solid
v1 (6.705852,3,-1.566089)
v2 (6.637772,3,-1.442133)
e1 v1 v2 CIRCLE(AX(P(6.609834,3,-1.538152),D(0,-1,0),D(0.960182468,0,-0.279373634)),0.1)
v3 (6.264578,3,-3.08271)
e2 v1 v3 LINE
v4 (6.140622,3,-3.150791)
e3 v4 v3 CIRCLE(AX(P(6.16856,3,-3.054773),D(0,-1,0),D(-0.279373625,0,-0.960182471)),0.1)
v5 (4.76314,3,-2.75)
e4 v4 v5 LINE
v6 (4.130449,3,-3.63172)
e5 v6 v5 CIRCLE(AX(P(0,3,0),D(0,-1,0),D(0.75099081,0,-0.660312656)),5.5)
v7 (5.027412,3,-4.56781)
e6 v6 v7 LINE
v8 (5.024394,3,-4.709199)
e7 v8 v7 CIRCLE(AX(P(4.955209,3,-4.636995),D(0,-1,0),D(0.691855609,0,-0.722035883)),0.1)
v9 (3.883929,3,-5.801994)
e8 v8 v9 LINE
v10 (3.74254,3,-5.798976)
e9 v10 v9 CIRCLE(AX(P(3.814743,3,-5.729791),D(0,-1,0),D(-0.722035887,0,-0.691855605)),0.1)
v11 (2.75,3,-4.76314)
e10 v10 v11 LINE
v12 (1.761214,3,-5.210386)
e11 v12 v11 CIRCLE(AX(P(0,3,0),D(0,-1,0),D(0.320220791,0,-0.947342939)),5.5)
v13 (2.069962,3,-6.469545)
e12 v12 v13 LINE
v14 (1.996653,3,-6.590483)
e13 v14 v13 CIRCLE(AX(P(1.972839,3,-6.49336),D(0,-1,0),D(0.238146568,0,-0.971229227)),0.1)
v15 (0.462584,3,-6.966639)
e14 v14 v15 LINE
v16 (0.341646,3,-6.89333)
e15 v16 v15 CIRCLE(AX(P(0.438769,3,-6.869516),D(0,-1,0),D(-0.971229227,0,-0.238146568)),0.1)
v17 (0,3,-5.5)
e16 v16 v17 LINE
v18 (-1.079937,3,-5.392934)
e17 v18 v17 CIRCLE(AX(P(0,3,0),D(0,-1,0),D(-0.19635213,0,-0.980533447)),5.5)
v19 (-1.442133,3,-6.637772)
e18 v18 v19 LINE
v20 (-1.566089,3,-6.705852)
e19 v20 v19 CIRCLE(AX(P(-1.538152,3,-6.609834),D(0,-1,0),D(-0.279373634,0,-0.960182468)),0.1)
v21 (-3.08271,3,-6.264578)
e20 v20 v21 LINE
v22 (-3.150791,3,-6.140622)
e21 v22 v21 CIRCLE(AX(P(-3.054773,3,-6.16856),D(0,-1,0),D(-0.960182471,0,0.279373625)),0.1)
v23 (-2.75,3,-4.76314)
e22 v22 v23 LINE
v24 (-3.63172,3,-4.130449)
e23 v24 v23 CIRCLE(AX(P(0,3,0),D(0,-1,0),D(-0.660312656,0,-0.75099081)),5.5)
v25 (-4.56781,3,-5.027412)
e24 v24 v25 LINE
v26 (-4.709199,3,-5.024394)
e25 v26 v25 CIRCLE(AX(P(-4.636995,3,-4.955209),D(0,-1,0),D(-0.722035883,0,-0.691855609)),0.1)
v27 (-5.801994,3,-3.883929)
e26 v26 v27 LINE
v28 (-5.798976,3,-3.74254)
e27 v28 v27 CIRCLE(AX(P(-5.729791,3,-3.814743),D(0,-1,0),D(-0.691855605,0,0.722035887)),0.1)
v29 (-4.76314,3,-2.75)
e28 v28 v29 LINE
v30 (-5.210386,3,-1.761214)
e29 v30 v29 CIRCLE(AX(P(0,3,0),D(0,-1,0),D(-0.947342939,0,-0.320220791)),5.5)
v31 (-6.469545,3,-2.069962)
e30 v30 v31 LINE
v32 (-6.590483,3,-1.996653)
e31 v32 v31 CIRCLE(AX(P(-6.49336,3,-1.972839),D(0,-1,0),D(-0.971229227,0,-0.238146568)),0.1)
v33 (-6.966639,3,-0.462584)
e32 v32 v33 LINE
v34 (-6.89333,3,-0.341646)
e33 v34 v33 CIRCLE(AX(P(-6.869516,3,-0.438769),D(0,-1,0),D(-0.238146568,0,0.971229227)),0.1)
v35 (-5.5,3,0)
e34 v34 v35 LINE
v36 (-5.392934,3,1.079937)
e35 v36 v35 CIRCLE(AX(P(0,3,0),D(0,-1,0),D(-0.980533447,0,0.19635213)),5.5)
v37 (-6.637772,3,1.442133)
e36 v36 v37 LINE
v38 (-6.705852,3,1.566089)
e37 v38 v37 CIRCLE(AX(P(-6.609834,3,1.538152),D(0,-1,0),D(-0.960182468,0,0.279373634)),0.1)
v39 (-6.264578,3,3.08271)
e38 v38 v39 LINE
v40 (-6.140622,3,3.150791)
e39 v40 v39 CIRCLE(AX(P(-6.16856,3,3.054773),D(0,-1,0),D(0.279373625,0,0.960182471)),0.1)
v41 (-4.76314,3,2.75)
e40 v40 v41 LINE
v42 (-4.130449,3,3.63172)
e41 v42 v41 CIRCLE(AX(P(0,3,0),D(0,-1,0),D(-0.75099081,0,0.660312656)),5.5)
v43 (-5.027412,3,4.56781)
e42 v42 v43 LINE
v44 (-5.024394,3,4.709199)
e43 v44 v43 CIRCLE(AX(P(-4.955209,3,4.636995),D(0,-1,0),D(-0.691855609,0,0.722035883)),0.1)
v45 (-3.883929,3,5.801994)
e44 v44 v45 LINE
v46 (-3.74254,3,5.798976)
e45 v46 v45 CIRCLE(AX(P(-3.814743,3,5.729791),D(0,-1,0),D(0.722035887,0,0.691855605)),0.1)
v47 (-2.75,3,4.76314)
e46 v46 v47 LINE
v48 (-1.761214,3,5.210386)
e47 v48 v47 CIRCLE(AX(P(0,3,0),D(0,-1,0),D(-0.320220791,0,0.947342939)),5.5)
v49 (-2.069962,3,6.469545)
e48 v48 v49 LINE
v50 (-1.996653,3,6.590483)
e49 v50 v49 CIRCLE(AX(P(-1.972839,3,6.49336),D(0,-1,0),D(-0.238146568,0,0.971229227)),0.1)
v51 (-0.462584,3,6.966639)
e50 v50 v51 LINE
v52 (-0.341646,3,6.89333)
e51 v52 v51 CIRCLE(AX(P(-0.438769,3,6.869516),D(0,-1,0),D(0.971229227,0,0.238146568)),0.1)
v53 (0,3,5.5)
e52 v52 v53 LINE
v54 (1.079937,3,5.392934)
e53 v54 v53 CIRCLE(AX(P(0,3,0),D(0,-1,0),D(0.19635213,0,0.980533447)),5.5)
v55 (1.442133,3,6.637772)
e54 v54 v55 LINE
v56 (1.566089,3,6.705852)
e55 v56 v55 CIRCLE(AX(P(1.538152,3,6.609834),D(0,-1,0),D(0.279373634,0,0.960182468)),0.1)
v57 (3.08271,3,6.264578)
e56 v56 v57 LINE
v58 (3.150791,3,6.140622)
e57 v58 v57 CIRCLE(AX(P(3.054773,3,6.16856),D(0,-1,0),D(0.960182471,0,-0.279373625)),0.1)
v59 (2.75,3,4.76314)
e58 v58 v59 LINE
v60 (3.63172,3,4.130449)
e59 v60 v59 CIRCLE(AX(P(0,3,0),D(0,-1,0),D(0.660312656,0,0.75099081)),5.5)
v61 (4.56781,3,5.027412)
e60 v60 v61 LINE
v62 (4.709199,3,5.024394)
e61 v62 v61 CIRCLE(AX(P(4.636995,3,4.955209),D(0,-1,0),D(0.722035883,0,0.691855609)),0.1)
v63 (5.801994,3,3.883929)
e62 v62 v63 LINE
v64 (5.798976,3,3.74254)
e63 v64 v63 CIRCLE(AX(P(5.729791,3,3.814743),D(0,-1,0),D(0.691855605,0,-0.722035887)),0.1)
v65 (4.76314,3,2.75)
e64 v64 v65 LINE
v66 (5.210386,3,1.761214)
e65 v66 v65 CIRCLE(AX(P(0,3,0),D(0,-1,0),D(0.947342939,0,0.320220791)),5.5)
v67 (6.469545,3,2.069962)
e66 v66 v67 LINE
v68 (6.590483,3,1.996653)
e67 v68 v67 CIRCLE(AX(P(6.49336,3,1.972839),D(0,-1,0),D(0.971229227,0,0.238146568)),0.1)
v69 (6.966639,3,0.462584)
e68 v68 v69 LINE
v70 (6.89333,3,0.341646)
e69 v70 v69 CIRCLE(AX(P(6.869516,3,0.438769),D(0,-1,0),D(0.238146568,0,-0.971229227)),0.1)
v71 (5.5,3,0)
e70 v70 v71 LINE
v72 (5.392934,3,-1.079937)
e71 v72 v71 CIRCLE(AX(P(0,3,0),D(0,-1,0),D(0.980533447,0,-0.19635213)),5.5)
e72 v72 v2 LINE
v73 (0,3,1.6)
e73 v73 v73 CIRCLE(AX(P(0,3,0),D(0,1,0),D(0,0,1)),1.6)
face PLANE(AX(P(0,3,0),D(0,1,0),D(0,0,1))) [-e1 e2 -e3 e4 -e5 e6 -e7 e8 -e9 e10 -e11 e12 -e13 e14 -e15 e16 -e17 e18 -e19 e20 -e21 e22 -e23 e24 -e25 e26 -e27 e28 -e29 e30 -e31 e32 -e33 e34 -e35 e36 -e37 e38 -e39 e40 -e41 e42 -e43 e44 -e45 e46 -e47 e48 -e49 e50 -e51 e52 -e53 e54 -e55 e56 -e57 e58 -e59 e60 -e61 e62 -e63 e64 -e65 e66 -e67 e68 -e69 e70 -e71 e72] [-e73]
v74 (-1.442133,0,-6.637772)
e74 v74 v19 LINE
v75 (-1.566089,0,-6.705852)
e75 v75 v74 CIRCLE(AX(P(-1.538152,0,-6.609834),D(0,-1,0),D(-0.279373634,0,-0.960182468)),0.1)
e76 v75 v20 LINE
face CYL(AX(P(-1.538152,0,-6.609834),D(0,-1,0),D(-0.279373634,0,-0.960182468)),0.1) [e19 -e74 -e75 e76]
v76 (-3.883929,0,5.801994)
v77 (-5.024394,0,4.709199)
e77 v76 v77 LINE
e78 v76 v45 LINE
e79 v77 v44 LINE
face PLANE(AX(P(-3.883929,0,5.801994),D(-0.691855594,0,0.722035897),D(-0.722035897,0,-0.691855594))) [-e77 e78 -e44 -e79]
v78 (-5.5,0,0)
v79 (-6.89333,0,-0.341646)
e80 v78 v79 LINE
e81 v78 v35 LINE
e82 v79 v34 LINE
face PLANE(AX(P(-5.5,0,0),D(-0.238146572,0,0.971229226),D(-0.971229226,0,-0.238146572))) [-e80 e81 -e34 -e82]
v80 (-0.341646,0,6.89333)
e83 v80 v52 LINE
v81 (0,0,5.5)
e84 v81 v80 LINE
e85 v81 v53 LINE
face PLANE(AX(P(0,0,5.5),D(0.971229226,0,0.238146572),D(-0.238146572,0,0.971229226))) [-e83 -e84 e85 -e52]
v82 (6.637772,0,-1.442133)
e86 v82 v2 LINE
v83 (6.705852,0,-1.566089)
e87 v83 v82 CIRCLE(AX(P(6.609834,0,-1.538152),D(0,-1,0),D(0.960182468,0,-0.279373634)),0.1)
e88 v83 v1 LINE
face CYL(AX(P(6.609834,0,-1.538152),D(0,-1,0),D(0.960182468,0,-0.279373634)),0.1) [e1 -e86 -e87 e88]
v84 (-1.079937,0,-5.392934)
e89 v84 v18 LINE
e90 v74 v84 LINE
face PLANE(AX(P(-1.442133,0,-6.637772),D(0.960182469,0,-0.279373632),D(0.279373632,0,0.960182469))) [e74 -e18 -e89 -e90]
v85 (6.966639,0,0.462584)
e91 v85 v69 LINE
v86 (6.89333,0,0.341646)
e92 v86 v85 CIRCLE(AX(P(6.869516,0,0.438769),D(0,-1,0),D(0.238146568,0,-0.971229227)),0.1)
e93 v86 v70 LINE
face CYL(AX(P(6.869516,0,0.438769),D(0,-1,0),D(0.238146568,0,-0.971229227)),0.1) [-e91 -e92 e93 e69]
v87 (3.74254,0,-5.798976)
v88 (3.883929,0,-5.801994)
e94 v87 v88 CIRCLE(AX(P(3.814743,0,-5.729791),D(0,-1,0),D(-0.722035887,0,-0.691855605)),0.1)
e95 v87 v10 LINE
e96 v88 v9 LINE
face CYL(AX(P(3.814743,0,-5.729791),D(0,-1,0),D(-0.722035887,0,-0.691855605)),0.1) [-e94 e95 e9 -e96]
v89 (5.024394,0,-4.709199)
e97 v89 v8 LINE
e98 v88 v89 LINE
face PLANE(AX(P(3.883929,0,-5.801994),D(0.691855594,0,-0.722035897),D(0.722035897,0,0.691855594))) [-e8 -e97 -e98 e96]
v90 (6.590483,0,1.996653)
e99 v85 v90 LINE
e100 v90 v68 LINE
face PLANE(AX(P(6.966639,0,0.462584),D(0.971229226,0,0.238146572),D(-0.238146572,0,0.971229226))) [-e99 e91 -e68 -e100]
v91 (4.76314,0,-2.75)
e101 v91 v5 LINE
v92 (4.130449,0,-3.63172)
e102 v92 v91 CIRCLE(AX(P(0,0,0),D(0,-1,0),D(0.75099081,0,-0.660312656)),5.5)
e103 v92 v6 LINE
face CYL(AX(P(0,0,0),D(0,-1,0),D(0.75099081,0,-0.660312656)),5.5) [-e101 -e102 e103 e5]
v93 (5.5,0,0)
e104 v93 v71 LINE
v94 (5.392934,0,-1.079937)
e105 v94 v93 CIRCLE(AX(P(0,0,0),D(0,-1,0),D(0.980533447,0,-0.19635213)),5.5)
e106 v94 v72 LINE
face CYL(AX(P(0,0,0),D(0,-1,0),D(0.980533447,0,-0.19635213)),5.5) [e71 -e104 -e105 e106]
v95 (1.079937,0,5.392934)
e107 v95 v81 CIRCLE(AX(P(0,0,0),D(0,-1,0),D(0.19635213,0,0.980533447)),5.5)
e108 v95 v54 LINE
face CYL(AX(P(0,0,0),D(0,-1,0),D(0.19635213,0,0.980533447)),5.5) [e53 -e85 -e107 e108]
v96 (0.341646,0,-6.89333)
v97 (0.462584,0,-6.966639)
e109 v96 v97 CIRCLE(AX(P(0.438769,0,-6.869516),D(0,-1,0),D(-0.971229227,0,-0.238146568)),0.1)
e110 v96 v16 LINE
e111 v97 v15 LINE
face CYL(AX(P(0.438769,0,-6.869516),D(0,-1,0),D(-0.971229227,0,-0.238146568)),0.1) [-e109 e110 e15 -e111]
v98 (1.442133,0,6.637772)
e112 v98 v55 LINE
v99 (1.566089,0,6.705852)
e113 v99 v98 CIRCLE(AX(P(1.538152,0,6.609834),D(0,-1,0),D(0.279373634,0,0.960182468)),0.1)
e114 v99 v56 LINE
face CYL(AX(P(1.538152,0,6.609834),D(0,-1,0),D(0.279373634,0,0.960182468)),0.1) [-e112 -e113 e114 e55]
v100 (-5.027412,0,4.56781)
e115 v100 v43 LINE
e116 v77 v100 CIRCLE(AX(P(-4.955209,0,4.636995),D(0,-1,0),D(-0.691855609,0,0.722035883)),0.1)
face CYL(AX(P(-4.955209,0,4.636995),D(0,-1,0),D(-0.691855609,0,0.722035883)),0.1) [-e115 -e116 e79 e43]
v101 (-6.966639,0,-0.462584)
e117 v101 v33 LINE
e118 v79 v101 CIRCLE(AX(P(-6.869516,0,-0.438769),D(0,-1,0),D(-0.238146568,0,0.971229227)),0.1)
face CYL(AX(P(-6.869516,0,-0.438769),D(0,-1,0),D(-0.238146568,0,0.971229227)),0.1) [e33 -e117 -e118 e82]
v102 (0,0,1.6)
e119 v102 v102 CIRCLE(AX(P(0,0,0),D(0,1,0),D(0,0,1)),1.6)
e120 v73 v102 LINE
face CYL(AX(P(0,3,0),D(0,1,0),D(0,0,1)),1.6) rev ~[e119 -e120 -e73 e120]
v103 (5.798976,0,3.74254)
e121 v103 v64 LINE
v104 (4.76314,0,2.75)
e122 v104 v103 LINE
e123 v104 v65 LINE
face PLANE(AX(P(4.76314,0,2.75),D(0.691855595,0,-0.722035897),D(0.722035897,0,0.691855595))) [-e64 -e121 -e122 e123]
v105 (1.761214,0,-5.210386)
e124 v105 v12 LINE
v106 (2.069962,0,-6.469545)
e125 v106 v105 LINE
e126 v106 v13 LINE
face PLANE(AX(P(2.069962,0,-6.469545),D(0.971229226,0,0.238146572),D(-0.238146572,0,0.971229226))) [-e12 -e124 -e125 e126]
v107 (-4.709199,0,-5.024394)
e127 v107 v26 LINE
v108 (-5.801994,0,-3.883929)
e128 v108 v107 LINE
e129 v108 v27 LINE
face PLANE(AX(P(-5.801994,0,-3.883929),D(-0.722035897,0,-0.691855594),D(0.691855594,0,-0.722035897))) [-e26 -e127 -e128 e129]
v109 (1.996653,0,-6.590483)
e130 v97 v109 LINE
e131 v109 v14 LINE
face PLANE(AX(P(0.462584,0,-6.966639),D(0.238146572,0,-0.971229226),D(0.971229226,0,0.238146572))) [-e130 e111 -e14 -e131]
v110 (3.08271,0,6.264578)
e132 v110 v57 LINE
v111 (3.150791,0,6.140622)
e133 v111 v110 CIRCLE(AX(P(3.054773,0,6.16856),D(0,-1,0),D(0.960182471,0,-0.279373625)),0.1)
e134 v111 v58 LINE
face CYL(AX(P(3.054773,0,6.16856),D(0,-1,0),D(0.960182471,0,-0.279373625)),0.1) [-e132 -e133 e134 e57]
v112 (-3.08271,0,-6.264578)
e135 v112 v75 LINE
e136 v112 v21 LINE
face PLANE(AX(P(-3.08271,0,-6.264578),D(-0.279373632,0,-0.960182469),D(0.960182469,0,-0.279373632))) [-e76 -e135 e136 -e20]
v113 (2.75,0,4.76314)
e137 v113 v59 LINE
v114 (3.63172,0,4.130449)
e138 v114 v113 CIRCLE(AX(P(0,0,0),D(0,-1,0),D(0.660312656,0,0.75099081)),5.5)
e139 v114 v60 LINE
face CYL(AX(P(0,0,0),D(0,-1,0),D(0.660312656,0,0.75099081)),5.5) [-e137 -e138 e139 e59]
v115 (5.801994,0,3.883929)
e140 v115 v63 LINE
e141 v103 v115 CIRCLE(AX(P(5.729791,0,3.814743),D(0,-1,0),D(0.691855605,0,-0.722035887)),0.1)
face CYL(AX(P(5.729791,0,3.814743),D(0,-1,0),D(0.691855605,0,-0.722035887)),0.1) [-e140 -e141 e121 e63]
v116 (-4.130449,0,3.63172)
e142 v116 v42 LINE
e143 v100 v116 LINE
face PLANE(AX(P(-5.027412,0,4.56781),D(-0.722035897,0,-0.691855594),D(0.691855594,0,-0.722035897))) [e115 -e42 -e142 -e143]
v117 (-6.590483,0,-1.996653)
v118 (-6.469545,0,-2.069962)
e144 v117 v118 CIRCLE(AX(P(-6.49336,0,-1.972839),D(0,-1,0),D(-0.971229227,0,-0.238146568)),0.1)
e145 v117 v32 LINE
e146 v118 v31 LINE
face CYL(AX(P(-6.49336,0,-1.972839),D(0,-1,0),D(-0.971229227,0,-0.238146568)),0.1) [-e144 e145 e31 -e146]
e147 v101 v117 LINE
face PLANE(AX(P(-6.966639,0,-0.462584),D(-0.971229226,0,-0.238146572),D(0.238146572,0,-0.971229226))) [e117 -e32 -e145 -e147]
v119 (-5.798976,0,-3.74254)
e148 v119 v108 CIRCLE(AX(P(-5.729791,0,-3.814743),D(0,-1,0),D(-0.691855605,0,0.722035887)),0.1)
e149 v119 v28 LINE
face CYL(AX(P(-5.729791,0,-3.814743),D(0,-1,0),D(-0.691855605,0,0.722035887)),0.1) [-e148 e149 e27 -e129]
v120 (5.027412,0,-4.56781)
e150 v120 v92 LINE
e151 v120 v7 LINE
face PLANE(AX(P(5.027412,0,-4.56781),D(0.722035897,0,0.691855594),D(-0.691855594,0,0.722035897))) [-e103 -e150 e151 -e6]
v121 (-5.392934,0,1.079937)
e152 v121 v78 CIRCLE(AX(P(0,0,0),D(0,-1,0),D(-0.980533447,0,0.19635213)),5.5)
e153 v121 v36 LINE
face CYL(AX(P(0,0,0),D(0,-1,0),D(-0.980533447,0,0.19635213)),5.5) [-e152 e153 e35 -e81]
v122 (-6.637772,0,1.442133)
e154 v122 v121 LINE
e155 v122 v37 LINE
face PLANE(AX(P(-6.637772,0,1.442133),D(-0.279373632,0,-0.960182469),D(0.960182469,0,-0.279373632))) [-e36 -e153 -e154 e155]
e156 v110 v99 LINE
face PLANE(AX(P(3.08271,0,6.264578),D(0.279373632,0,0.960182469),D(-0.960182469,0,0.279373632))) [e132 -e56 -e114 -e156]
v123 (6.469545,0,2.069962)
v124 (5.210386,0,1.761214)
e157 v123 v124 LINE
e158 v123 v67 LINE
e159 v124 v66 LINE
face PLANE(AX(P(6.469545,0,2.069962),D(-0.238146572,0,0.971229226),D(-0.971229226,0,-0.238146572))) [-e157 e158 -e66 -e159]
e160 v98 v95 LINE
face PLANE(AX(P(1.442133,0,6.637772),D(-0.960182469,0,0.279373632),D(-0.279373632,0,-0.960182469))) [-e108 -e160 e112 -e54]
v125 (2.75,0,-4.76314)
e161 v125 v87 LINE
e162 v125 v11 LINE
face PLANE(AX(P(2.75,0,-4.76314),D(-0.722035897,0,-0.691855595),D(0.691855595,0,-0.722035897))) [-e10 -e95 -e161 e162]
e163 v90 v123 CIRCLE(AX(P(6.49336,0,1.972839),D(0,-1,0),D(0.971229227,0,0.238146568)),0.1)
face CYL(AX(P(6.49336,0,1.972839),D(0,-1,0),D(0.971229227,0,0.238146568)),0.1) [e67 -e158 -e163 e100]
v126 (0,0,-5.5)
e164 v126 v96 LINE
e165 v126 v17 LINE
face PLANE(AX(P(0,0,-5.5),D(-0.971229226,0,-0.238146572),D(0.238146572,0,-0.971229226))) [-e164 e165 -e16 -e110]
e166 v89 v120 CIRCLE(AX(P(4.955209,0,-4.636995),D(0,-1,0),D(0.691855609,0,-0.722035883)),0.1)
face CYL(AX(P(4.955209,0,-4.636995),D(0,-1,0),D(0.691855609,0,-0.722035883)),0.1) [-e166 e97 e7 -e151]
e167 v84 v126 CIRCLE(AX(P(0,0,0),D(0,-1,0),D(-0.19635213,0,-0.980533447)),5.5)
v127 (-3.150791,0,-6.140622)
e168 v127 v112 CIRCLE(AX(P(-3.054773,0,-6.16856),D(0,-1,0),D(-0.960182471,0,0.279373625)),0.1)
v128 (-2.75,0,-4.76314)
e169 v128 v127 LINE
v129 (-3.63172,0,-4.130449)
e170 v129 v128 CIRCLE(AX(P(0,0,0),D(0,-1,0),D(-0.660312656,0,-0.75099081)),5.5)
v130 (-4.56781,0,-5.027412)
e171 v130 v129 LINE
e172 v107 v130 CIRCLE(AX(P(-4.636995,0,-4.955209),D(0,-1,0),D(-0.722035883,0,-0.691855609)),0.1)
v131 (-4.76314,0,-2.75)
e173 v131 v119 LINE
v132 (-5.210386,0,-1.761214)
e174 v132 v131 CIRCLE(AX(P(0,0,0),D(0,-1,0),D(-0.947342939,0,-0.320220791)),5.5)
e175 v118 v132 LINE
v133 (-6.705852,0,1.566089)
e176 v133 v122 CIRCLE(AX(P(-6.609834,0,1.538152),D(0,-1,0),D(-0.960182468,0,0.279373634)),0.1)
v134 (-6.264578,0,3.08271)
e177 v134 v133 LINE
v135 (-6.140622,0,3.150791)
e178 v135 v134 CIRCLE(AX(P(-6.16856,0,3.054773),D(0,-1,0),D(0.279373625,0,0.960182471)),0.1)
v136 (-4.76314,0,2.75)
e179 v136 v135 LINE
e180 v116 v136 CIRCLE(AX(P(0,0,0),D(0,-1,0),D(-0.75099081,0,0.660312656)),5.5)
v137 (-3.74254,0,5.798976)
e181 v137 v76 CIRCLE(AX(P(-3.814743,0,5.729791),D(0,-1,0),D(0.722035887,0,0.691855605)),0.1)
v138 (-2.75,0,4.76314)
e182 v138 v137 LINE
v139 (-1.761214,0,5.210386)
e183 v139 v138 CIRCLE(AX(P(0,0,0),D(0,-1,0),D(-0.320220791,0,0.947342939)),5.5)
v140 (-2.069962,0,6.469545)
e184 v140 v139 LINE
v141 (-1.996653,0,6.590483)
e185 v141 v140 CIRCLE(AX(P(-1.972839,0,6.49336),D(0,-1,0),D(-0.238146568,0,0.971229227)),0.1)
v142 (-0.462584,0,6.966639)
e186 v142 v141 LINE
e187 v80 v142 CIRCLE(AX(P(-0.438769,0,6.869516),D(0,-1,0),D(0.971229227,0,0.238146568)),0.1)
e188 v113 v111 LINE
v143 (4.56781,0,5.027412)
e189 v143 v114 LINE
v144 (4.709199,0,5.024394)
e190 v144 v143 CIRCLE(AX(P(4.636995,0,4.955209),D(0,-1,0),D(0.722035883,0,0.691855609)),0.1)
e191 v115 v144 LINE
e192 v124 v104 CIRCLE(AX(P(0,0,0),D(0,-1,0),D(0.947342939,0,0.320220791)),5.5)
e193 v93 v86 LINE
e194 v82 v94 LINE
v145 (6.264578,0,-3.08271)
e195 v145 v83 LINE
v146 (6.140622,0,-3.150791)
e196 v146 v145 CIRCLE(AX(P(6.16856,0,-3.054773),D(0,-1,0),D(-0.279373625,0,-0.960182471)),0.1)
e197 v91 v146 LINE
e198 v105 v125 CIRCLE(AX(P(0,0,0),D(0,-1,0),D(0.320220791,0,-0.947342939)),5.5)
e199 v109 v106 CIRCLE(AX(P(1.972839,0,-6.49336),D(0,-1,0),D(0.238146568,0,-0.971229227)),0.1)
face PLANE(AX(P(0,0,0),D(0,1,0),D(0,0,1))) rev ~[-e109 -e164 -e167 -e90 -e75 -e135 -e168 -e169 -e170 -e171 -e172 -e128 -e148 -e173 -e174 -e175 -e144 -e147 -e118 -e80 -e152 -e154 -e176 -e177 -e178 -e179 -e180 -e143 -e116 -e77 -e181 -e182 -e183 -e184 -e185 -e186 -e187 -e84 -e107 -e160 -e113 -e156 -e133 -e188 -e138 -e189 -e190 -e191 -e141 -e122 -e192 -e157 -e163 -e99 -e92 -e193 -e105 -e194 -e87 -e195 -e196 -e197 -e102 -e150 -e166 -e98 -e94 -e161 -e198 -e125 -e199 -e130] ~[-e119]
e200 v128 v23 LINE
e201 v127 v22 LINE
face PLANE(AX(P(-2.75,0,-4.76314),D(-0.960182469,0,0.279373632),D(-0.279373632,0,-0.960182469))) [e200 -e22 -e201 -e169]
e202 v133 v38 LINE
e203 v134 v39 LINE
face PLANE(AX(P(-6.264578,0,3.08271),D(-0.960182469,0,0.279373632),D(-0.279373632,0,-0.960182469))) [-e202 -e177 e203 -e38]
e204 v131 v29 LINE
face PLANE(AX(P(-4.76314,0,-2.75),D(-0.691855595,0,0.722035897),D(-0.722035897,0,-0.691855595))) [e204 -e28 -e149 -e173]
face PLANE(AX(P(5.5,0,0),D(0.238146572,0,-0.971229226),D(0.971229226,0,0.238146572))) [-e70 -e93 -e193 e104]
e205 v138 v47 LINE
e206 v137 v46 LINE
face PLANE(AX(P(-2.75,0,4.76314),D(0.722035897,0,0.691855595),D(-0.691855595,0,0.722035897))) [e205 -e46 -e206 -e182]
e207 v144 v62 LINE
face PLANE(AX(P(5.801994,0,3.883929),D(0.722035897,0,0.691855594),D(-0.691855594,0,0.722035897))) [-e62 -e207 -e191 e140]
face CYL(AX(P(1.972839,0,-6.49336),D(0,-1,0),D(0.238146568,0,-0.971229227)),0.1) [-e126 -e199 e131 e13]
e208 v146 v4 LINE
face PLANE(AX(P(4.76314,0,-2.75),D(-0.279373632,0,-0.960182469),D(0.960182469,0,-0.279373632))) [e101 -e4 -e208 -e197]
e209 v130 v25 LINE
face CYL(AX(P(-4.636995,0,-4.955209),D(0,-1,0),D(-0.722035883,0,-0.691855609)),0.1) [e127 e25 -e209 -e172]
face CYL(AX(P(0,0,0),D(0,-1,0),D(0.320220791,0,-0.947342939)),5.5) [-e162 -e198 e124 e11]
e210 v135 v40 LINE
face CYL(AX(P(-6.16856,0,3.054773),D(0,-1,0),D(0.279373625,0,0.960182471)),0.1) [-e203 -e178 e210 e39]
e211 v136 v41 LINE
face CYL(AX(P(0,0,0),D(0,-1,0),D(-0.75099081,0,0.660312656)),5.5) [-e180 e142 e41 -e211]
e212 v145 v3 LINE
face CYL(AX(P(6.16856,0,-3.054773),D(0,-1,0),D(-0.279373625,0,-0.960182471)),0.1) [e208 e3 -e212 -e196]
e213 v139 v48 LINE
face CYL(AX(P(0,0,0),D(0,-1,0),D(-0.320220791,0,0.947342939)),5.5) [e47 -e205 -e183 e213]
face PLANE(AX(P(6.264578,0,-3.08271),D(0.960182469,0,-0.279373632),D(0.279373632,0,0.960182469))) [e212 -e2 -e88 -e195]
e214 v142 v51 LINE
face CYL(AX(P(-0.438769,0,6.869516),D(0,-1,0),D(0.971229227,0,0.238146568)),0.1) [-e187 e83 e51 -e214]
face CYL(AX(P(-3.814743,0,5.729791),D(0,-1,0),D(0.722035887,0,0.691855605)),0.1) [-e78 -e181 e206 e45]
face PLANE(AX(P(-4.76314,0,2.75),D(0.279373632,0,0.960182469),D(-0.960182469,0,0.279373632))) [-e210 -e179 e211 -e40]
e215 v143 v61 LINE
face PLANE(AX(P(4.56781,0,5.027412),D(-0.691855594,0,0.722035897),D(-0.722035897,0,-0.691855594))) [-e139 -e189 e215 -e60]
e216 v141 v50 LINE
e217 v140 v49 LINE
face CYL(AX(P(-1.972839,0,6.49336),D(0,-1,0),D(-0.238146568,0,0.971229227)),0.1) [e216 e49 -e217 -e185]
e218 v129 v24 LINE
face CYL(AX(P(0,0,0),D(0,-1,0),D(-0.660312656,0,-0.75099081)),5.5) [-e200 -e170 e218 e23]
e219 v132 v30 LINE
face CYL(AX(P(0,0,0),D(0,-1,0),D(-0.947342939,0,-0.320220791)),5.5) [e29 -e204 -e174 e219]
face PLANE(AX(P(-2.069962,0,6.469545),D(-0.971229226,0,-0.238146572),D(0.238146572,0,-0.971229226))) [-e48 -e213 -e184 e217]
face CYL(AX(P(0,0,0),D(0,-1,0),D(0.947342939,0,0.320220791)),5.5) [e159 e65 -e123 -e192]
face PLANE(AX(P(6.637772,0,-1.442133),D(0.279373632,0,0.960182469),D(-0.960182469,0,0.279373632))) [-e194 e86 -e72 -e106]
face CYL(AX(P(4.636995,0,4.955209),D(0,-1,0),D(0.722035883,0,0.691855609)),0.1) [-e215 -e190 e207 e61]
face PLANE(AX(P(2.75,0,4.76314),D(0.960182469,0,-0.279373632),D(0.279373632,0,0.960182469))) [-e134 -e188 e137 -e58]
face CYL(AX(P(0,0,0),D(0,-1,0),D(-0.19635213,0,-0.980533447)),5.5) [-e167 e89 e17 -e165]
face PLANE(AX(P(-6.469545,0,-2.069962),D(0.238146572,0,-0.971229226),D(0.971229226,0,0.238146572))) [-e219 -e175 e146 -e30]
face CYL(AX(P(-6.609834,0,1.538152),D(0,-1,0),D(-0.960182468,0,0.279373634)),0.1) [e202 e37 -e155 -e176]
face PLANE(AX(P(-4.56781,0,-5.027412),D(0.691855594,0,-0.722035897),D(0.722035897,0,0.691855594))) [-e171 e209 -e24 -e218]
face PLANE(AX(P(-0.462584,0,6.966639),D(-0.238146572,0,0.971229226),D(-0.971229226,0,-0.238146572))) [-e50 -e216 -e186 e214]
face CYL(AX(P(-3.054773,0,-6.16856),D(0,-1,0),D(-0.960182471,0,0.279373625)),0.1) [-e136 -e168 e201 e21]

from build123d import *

# Parameters (mm, degrees)
SKETCH1_R               = 7
BOSS_EXTRUDE1_DEPTH     = 3
CUT_EXTRUDE1_DEPTH      = 11.344080433
CUT_EXTRUDE1_DEPTH_BACK = 3
SKETCH5_R               = 1.6
CUT_EXTRUDE2_DEPTH      = 3


with BuildPart() as part:
    # Sketch1 → Boss-Extrude1 (new body)
    with BuildSketch(Plane(origin=(0, 0, 0), x_dir=(1, 0, 0), z_dir=(0, 1, 0))):
        with Locations(Location((0, 0, 0), (0, 0, 270))):
            Circle(SKETCH1_R)
    extrude(amount=BOSS_EXTRUDE1_DEPTH)

    # Sketch2 → Cut-Extrude1 (cut, two sides: drawn at the far end of the back side and taken through both)
    with BuildSketch(Plane(origin=(0, 3, 0), x_dir=(1, 0, 0), z_dir=(0, 1, 0)).offset(-CUT_EXTRUDE1_DEPTH_BACK)):
        with BuildLine():
            ThreePointArc((-1.079936716, 5.392933959), (-0.542615529, 5.473168039), (0, 5.5))
            Line((0, 5.5), (0, 7))
            ThreePointArc((0, 7), (-7, 0), (0, -7))
            Line((0, -7), (0, -5.5))
            Line((0, -5.5), (-0.341646298, -6.893330445))
            ThreePointArc((-0.341646298, -6.893330445), (-0.386932449, -6.955031571), (-0.462583878, -6.966638711))
            Line((-0.462583878, -6.966638711), (-1.996653446, -6.590483011))
            ThreePointArc((-1.996653446, -6.590483011), (-2.058354572, -6.54519686), (-2.069961712, -6.469545431))
            Line((-2.069961712, -6.469545431), (-1.761214349, -5.210386168))
            ThreePointArc((-1.761214349, -5.210386168), (-2.266665187, -5.011210326), (-2.75, -4.763139721))
            Line((-2.75, -4.763139721), (-3.742539596, -5.798976134))
            ThreePointArc((-3.742539596, -5.798976134), (-3.812609116, -5.8297678), (-3.883928745, -5.801994164))
            Line((-3.883928745, -5.801994164), (-5.024394113, -4.709198988))
            ThreePointArc((-5.024394113, -4.709198988), (-5.055185779, -4.639129468), (-5.027412143, -4.567809838))
            Line((-5.027412143, -4.567809838), (-4.130449452, -3.63171961))
            ThreePointArc((-4.130449452, -3.63171961), (-4.468594797, -3.206502852), (-4.763139721, -2.75))
            Line((-4.763139721, -2.75), (-6.140622431, -3.15079085))
            ThreePointArc((-6.140622431, -3.15079085), (-6.216700249, -3.142422455), (-6.264578041, -3.082709966))
            Line((-6.264578041, -3.082709966), (-6.705852434, -1.566088898))
            ThreePointArc((-6.705852434, -1.566088898), (-6.69748404, -1.490011081), (-6.63777155, -1.442133288))
            Line((-6.63777155, -1.442133288), (-5.392933959, -1.079936716))
            ThreePointArc((-5.392933959, -1.079936716), (-5.473168039, -0.542615529), (-5.5, 0))
            Line((-5.5, 0), (-6.893330445, 0.341646298))
            ThreePointArc((-6.893330445, 0.341646298), (-6.955031571, 0.386932449), (-6.966638711, 0.462583878))
            Line((-6.966638711, 0.462583878), (-6.590483011, 1.996653446))
            ThreePointArc((-6.590483011, 1.996653446), (-6.54519686, 2.058354572), (-6.469545431, 2.069961712))
            Line((-6.469545431, 2.069961712), (-5.210386168, 1.761214349))
            ThreePointArc((-5.210386168, 1.761214349), (-5.011210326, 2.266665187), (-4.763139721, 2.75))
            Line((-4.763139721, 2.75), (-5.798976134, 3.742539596))
            ThreePointArc((-5.798976134, 3.742539596), (-5.8297678, 3.812609116), (-5.801994164, 3.883928745))
            Line((-5.801994164, 3.883928745), (-4.709198988, 5.024394113))
            ThreePointArc((-4.709198988, 5.024394113), (-4.639129468, 5.055185779), (-4.567809838, 5.027412143))
            Line((-4.567809838, 5.027412143), (-3.63171961, 4.130449452))
            ThreePointArc((-3.63171961, 4.130449452), (-3.206502852, 4.468594797), (-2.75, 4.763139721))
            Line((-2.75, 4.763139721), (-3.15079085, 6.140622431))
            ThreePointArc((-3.15079085, 6.140622431), (-3.142422455, 6.216700249), (-3.082709966, 6.264578041))
            Line((-3.082709966, 6.264578041), (-1.566088898, 6.705852434))
            ThreePointArc((-1.566088898, 6.705852434), (-1.490011081, 6.69748404), (-1.442133288, 6.63777155))
            Line((-1.442133288, 6.63777155), (-1.079936716, 5.392933959))
        make_face()
        with BuildLine():
            Line((0, 7), (0, 5.5))
            Line((0, 5.5), (0.341646298, 6.893330445))
            ThreePointArc((0.341646298, 6.893330445), (0.386932449, 6.955031571), (0.462583878, 6.966638711))
            Line((0.462583878, 6.966638711), (1.996653446, 6.590483011))
            ThreePointArc((1.996653446, 6.590483011), (2.058354572, 6.54519686), (2.069961712, 6.469545431))
            Line((2.069961712, 6.469545431), (1.761214349, 5.210386168))
            ThreePointArc((1.761214349, 5.210386168), (2.266665187, 5.011210326), (2.75, 4.763139721))
            Line((2.75, 4.763139721), (3.742539596, 5.798976134))
            ThreePointArc((3.742539596, 5.798976134), (3.812609116, 5.8297678), (3.883928745, 5.801994164))
            Line((3.883928745, 5.801994164), (5.024394113, 4.709198988))
            ThreePointArc((5.024394113, 4.709198988), (5.055185779, 4.639129468), (5.027412143, 4.567809838))
            Line((5.027412143, 4.567809838), (4.130449452, 3.63171961))
            ThreePointArc((4.130449452, 3.63171961), (4.468594797, 3.206502852), (4.763139721, 2.75))
            Line((4.763139721, 2.75), (6.140622431, 3.15079085))
            ThreePointArc((6.140622431, 3.15079085), (6.216700249, 3.142422455), (6.264578041, 3.082709966))
            Line((6.264578041, 3.082709966), (6.705852434, 1.566088898))
            ThreePointArc((6.705852434, 1.566088898), (6.69748404, 1.490011081), (6.63777155, 1.442133288))
            Line((6.63777155, 1.442133288), (5.392933959, 1.079936716))
            ThreePointArc((5.392933959, 1.079936716), (5.473168039, 0.542615529), (5.5, 0))
            Line((5.5, 0), (6.893330445, -0.341646298))
            ThreePointArc((6.893330445, -0.341646298), (6.955031571, -0.386932449), (6.966638711, -0.462583878))
            Line((6.966638711, -0.462583878), (6.590483011, -1.996653446))
            ThreePointArc((6.590483011, -1.996653446), (6.54519686, -2.058354572), (6.469545431, -2.069961712))
            Line((6.469545431, -2.069961712), (5.210386168, -1.761214349))
            ThreePointArc((5.210386168, -1.761214349), (5.011210326, -2.266665187), (4.763139721, -2.75))
            Line((4.763139721, -2.75), (5.798976134, -3.742539596))
            ThreePointArc((5.798976134, -3.742539596), (5.8297678, -3.812609116), (5.801994164, -3.883928745))
            Line((5.801994164, -3.883928745), (4.709198988, -5.024394113))
            ThreePointArc((4.709198988, -5.024394113), (4.639129468, -5.055185779), (4.567809838, -5.027412143))
            Line((4.567809838, -5.027412143), (3.63171961, -4.130449452))
            ThreePointArc((3.63171961, -4.130449452), (3.206502852, -4.468594797), (2.75, -4.763139721))
            Line((2.75, -4.763139721), (3.15079085, -6.140622431))
            ThreePointArc((3.15079085, -6.140622431), (3.142422455, -6.216700249), (3.082709966, -6.264578041))
            Line((3.082709966, -6.264578041), (1.566088898, -6.705852434))
            ThreePointArc((1.566088898, -6.705852434), (1.490011081, -6.69748404), (1.442133288, -6.63777155))
            Line((1.442133288, -6.63777155), (1.079936716, -5.392933959))
            ThreePointArc((1.079936716, -5.392933959), (0.542615529, -5.473168039), (0, -5.5))
            Line((0, -5.5), (0, -7))
            ThreePointArc((0, -7), (4.949747468, -4.949747468), (7, 0))
            ThreePointArc((7, 0), (4.949747468, 4.949747468), (0, 7))
        make_face()
    extrude(amount=CUT_EXTRUDE1_DEPTH + CUT_EXTRUDE1_DEPTH_BACK, mode=Mode.SUBTRACT)

    # Sketch5 → Cut-Extrude2 (cut)
    with BuildSketch(Plane(origin=(0, 3, 0), x_dir=(1, 0, 0), z_dir=(0, 1, 0))):
        with Locations(Location((0, 0, 0), (0, 0, 270))):
            Circle(SKETCH5_R)
    extrude(amount=-CUT_EXTRUDE2_DEPTH, mode=Mode.SUBTRACT)


solid = part.part
